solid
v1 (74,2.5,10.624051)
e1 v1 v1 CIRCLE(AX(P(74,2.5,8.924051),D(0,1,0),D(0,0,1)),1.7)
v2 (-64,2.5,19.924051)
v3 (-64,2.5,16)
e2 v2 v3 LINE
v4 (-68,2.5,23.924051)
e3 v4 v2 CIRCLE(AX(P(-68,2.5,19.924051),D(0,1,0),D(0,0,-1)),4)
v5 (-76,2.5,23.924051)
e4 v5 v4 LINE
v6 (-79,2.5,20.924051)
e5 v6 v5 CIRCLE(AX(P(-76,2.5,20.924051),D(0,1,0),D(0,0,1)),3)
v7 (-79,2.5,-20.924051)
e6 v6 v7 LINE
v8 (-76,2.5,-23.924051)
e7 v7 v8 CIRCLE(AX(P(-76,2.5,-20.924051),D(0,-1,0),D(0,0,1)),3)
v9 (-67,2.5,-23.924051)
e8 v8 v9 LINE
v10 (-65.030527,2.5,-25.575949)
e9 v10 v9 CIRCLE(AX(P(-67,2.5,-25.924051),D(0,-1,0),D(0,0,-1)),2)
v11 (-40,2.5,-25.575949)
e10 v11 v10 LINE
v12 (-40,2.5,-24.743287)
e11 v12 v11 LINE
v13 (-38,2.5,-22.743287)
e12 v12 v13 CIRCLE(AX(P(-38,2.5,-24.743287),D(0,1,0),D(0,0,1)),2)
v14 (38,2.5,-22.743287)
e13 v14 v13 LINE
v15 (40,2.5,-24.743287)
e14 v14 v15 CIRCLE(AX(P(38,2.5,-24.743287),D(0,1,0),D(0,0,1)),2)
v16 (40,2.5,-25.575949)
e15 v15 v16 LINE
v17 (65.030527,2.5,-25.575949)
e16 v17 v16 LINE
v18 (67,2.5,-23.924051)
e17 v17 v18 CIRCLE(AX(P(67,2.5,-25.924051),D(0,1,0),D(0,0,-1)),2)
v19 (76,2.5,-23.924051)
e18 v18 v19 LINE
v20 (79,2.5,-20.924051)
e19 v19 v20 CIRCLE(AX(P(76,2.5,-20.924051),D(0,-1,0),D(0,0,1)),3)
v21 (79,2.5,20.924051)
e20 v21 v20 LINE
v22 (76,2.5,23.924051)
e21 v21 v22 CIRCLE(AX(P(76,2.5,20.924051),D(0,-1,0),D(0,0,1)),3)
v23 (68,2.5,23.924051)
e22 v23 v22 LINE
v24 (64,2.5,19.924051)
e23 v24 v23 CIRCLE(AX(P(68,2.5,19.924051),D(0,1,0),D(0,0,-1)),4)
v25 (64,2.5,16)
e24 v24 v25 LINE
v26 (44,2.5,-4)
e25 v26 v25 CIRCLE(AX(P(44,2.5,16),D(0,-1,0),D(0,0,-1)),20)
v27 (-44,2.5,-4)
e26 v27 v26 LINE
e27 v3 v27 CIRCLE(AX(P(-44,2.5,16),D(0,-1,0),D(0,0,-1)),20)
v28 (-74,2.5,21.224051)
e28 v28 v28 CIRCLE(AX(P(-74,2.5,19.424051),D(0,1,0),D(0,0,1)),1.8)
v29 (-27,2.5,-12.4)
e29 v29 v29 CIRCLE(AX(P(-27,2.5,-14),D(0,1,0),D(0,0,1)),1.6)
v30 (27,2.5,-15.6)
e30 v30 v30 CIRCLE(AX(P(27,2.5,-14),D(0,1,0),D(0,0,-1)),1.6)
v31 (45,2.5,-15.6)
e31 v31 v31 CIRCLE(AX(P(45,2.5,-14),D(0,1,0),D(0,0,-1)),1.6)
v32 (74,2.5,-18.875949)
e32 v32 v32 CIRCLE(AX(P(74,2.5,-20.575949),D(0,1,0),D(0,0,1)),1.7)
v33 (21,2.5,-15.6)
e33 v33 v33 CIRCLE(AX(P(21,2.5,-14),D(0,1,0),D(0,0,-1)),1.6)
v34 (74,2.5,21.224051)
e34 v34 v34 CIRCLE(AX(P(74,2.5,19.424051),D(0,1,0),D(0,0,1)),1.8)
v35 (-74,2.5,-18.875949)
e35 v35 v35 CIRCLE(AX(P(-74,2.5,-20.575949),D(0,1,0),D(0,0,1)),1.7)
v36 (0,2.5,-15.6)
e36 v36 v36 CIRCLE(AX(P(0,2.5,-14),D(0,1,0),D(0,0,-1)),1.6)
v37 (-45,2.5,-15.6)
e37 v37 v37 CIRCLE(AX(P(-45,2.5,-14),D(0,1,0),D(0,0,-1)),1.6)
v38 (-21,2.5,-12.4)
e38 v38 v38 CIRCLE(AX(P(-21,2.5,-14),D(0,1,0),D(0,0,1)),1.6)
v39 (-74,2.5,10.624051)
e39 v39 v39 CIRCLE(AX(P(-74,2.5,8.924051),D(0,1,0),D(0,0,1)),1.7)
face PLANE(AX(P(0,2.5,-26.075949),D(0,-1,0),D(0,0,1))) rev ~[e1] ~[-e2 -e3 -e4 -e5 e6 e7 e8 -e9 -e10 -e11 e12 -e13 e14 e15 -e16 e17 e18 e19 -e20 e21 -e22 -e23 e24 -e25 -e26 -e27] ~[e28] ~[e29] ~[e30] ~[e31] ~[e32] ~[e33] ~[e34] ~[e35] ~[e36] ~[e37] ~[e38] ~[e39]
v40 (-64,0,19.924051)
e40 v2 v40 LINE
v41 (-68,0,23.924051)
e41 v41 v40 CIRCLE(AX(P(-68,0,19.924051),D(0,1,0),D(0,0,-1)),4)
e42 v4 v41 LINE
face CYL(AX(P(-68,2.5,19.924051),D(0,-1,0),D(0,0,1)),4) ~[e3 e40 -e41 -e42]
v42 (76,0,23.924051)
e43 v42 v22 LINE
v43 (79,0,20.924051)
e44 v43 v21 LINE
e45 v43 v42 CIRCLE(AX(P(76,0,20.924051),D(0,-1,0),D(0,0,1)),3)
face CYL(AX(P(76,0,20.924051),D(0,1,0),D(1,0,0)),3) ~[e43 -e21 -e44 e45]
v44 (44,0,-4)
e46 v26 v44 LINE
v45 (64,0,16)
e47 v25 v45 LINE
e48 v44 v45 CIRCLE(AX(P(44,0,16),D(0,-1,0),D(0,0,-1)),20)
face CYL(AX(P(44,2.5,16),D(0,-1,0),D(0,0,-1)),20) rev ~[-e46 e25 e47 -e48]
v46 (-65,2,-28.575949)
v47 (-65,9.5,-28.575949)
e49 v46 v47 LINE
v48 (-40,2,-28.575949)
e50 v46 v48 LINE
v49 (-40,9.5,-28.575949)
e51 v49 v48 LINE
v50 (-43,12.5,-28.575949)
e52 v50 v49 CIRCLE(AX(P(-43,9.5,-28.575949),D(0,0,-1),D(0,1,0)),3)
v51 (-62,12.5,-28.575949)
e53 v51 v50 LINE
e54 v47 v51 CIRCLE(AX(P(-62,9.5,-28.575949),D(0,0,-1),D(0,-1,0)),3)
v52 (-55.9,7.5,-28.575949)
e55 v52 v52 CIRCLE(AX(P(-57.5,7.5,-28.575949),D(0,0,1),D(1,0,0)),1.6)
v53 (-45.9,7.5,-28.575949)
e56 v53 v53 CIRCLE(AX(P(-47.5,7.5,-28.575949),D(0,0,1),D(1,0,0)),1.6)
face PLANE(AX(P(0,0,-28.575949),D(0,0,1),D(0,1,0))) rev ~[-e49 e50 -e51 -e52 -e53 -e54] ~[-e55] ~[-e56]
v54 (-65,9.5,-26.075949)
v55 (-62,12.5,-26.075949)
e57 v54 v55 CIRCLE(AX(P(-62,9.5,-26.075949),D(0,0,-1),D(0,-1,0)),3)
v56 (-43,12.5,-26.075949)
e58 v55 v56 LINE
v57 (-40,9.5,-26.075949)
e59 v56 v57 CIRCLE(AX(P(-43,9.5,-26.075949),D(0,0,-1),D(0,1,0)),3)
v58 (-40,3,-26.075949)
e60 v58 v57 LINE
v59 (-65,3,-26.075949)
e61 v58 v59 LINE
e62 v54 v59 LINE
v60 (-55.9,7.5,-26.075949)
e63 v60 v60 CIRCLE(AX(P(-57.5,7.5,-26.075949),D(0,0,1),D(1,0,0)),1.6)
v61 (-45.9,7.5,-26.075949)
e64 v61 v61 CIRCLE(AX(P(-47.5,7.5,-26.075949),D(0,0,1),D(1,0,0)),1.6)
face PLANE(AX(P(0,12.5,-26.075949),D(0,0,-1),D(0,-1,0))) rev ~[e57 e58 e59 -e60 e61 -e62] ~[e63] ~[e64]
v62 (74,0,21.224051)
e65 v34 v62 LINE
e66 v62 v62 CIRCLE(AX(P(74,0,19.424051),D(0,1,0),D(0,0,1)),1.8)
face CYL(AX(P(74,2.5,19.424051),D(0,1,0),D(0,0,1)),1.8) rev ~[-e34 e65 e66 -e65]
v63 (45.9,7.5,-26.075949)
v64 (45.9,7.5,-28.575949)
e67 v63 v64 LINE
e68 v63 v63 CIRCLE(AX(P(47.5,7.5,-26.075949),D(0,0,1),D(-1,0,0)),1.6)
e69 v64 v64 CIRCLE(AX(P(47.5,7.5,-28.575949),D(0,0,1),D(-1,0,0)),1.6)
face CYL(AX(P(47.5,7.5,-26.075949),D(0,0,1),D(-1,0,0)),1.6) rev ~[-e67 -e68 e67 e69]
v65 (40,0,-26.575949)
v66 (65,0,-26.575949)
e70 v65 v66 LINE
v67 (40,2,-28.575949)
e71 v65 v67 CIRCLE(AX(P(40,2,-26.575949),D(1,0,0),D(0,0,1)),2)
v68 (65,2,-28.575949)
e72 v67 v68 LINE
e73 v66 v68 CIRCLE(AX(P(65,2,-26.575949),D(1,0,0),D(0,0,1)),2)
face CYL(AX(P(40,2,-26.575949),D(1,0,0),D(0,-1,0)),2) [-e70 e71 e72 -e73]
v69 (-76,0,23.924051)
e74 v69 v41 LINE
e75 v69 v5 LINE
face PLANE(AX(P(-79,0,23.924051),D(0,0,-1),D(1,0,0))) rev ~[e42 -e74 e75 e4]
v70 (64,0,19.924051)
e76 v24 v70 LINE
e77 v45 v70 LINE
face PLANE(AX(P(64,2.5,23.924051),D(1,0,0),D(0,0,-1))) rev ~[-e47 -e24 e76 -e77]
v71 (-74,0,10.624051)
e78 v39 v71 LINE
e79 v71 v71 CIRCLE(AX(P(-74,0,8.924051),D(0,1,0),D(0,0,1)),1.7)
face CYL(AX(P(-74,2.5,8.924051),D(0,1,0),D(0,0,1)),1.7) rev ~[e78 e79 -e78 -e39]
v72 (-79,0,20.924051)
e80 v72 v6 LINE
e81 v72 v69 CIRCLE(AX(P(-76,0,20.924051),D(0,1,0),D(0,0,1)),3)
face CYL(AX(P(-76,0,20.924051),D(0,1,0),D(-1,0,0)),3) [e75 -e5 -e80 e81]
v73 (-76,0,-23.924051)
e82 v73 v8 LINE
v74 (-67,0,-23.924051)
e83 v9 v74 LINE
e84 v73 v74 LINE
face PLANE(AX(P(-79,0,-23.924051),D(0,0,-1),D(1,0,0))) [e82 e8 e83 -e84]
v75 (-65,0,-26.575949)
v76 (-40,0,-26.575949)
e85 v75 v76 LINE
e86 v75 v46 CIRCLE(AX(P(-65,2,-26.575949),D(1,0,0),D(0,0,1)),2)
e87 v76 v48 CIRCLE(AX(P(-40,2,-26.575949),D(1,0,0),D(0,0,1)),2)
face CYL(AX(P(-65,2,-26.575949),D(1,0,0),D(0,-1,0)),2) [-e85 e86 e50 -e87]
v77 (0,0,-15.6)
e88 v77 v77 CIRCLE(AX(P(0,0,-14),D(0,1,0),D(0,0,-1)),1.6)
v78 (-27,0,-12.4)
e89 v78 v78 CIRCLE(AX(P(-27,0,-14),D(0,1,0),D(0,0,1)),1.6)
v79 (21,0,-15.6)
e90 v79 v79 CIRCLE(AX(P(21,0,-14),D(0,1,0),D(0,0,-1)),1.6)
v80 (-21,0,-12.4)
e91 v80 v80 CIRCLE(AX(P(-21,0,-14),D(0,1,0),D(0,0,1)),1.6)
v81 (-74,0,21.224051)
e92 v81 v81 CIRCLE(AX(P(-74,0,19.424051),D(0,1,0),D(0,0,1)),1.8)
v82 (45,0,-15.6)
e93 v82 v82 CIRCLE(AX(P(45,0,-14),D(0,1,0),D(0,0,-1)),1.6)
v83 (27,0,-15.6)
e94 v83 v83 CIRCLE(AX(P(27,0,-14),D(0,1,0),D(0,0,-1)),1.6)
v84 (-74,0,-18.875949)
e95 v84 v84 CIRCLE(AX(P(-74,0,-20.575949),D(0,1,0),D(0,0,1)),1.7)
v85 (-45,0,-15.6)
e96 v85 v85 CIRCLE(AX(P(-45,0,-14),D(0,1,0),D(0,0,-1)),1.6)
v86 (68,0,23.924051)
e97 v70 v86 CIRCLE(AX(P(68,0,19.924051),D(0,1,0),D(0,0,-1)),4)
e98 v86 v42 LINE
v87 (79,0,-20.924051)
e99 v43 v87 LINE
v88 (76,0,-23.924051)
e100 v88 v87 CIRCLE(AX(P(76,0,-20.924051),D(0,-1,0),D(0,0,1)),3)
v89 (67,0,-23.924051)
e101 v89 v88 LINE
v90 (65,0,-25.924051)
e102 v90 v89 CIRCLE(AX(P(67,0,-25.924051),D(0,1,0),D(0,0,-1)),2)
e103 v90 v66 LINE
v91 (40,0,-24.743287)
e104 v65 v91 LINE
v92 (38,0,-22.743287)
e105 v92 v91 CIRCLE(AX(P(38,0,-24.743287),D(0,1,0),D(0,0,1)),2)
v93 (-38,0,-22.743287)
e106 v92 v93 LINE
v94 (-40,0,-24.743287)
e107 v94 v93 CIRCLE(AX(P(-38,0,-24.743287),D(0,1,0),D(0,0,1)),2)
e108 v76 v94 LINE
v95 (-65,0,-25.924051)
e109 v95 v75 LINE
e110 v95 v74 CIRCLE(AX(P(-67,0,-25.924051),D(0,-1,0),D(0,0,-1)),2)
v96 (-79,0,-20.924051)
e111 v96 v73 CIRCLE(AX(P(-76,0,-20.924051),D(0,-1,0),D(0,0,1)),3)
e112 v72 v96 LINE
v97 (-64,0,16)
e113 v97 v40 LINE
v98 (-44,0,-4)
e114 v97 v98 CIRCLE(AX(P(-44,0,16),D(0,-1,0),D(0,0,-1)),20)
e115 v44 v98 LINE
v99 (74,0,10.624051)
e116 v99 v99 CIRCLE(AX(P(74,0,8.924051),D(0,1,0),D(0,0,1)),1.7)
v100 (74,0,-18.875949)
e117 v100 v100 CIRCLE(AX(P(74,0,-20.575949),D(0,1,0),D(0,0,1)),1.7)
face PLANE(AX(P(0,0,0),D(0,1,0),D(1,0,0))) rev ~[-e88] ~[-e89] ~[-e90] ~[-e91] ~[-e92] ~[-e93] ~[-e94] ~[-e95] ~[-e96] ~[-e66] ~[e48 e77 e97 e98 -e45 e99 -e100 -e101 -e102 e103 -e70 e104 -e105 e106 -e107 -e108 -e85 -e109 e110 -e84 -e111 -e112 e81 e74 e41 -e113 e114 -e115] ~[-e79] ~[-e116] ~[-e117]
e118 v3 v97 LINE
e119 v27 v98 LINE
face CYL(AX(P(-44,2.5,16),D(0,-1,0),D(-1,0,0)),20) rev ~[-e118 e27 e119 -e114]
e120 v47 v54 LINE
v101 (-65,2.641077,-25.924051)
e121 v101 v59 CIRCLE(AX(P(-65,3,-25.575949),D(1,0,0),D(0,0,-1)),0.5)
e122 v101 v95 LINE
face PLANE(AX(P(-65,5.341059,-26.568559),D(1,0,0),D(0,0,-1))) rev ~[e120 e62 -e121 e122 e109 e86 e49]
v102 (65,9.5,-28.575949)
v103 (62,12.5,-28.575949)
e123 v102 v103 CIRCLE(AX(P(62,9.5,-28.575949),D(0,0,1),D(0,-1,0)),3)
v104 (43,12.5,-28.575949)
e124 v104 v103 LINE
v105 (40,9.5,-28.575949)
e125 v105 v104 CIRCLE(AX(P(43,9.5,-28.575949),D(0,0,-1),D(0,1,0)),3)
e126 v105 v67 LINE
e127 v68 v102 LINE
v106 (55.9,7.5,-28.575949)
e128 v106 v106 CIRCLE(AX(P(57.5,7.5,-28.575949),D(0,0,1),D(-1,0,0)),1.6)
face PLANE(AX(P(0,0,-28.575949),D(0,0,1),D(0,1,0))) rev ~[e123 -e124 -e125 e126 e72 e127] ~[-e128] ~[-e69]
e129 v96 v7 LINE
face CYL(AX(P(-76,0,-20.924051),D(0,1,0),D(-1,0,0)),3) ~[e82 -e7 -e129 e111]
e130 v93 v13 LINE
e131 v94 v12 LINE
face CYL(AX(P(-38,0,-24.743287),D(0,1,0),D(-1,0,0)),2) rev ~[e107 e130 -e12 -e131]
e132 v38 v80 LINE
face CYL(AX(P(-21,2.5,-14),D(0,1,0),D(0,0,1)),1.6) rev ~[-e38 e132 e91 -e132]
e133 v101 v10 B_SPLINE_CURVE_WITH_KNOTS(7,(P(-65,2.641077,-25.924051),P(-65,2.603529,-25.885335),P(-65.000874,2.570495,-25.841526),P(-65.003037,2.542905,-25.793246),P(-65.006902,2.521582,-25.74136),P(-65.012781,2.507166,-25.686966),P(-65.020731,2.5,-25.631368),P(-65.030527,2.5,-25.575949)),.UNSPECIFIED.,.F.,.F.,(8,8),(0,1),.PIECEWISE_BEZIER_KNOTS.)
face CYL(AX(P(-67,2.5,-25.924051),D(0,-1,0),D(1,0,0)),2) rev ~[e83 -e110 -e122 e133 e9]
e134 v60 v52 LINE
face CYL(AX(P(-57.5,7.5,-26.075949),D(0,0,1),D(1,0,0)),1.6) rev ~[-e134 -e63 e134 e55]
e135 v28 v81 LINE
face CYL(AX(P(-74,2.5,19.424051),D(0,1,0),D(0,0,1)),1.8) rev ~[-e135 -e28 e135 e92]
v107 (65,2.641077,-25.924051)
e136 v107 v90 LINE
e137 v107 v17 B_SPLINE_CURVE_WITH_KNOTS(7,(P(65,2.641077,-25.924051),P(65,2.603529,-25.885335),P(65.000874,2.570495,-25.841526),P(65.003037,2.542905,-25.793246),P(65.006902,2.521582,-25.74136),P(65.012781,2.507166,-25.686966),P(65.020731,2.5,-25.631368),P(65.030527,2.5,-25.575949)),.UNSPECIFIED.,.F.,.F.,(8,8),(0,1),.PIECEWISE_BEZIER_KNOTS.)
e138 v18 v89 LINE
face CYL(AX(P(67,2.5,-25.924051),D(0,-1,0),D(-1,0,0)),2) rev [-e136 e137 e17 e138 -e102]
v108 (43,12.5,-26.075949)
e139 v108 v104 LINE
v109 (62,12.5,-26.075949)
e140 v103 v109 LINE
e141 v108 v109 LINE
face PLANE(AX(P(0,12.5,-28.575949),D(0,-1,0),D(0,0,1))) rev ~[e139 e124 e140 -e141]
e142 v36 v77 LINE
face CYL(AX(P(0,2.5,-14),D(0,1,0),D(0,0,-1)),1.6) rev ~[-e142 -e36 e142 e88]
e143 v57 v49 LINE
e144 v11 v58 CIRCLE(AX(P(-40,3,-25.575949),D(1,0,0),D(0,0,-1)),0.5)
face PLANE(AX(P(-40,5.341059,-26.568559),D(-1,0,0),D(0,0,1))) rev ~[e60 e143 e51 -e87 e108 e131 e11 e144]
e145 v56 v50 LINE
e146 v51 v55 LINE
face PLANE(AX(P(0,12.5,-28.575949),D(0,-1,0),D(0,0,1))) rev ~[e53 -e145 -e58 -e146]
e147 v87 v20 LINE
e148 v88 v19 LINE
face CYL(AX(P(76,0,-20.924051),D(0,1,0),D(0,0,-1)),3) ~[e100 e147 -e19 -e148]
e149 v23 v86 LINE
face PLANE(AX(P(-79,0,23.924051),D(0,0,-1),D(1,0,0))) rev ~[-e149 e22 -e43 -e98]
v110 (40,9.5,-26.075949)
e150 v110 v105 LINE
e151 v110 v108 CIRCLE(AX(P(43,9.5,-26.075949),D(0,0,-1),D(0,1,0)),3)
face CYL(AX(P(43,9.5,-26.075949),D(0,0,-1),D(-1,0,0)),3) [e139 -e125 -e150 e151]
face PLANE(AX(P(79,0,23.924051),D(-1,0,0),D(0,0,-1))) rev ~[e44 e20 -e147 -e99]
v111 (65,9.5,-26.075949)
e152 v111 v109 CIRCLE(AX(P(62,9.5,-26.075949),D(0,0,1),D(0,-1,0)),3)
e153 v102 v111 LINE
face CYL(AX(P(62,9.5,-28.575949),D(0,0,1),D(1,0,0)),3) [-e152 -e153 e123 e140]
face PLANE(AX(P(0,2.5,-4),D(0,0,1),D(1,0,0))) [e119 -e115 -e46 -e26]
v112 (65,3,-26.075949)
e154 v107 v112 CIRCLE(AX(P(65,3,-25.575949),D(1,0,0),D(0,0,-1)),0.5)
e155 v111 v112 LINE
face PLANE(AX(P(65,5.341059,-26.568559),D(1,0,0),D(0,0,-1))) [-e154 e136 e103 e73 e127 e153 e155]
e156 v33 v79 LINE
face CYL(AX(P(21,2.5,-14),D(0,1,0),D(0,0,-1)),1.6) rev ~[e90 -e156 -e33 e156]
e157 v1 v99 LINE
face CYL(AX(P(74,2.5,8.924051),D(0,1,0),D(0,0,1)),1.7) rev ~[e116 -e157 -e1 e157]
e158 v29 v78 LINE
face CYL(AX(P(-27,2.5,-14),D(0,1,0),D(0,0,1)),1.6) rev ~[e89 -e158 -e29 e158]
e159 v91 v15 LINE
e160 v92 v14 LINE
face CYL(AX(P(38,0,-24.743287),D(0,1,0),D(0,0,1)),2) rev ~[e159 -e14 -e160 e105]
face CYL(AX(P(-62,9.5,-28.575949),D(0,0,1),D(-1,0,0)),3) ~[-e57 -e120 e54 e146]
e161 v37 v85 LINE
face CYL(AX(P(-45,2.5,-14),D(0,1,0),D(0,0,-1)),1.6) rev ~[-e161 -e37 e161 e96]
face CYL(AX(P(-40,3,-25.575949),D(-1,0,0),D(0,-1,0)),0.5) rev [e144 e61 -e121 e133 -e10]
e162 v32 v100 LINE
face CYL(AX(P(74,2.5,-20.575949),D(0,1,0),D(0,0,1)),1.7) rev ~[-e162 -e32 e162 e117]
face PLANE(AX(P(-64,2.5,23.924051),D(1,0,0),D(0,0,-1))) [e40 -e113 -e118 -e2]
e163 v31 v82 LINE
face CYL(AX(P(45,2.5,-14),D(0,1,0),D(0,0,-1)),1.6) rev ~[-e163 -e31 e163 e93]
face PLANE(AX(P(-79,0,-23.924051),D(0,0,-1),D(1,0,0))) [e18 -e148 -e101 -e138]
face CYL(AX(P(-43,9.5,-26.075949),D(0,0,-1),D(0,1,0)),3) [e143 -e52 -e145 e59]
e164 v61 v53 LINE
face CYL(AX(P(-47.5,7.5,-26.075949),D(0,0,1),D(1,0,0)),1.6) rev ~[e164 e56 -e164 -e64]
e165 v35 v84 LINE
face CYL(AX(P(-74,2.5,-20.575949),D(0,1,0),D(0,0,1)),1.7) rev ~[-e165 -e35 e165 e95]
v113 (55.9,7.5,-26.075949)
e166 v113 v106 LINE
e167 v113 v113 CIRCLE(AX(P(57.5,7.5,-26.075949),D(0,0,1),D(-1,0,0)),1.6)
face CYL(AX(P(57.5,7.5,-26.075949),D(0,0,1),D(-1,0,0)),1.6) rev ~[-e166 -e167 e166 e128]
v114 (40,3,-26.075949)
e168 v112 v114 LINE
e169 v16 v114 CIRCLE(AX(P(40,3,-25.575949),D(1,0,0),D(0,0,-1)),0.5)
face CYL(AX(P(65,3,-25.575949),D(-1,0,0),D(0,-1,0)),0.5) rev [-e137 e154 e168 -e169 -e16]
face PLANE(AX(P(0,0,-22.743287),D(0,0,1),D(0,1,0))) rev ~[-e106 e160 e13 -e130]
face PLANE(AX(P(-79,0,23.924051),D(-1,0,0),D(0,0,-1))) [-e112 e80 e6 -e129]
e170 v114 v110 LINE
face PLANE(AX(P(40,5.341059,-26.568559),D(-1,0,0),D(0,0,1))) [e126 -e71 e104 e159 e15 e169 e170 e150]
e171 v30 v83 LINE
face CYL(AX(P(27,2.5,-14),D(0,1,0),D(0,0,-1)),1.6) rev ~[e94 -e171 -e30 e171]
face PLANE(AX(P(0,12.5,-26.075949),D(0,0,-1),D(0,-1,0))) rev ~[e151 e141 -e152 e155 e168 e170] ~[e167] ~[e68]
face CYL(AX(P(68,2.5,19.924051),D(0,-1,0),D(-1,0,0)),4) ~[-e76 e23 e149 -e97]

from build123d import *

# Parameters (mm, degrees)
SKETCH_1_W                      = 158
SKETCH_1_H                      = 47.848101266
EXTRUDE_1_DEPTH                 = 2.5
CUT_EXTRUDE_1_REACH             = 84.581
SKETCH_2_W                      = 64
SKETCH_2_H                      = 27.924050633
CUT_EXTRUDE_2_REACH             = 84.581
SKETCH_4_R                      = 1.7
SKETCH_4_R_2                    = 1.8
CUT_EXTRUDE_3_REACH             = 84.581
SKETCH_5_R                      = 1.6
CUT_EXTRUDE_3_DIRECTION_2_DEPTH = 83.580931205
FILLET_4_R                      = 3
FILLET_5_R                      = 4
FILLET_6_R                      = 20
EXTRUDE_START                   = -79
EXTRUDE_2_DEPTH                 = 65
CUT_EXTRUDE_START               = -79
CUT_EXTRUDE_4_DEPTH             = 40
FILLET_7_R                      = 0.5
FILLET_8_R                      = 2
FILLET_9_R                      = 3
FILLET_10_R                     = 2
SKETCH_10_R                     = 1.6
CUT_EXTRUDE_5_DEPTH             = 95.325235224
SKETCH_11_R                     = 1.6
CUT_EXTRUDE_6_DEPTH             = 85.602511087


with BuildPart() as part:
    # 草图1 → 凸台-拉伸1 (new body)
    with BuildSketch(Plane(origin=(0, 0, 0), x_dir=(1, 0, 0), z_dir=(0, 1, 0))):
        Rectangle(SKETCH_1_W, SKETCH_1_H)
    extrude(amount=EXTRUDE_1_DEPTH)

    # 草图2 → 切除-拉伸1 (cut, up to next)
    with BuildSketch(Plane(origin=(0, 2.5, 0), x_dir=(1, 0, 0), z_dir=(0, 1, 0)), mode=Mode.PRIVATE) as cut_extrude_1_sk1:
        with Locations((-32, -9.962025317)):
            Rectangle(SKETCH_2_W, SKETCH_2_H)
    cut_extrude_1_tool1 = extrude(cut_extrude_1_sk1.sketch, amount=-CUT_EXTRUDE_1_REACH, mode=Mode.PRIVATE) & part.part
    # 草图2 → 切除-拉伸1 (cut, up to next)
    with BuildSketch(Plane(origin=(0, 2.5, 0), x_dir=(1, 0, 0), z_dir=(0, 1, 0)), mode=Mode.PRIVATE) as cut_extrude_1_sk2:
        with Locations((32, -9.962025317)):
            Rectangle(SKETCH_2_W, SKETCH_2_H)
    cut_extrude_1_tool2 = extrude(cut_extrude_1_sk2.sketch, amount=-CUT_EXTRUDE_1_REACH, mode=Mode.PRIVATE) & part.part
    add(cut_extrude_1_tool1.solids().sort_by_distance((-32, 2.5, 9.962025))[0], mode=Mode.SUBTRACT)
    add(cut_extrude_1_tool2.solids().sort_by_distance((32, 2.5, 9.962025))[0], mode=Mode.SUBTRACT)

    # 草图4 → 切除-拉伸2 (cut, up to next)
    with BuildSketch(Plane(origin=(0, 2.5, 0), x_dir=(1, 0, 0), z_dir=(0, 1, 0)), mode=Mode.PRIVATE) as cut_extrude_2_sk1:
        with Locations(Location((-74, -8.924050633, 0), (0, 0, 270))):
            Circle(SKETCH_4_R)
    cut_extrude_2_tool1 = extrude(cut_extrude_2_sk1.sketch, amount=-CUT_EXTRUDE_2_REACH, mode=Mode.PRIVATE) & part.part
    # 草图4 → 切除-拉伸2 (cut, up to next)
    with BuildSketch(Plane(origin=(0, 2.5, 0), x_dir=(1, 0, 0), z_dir=(0, 1, 0)), mode=Mode.PRIVATE) as cut_extrude_2_sk2:
        with Locations(Location((-74, 20.575949367, 0), (0, 0, 270))):
            Circle(SKETCH_4_R)
    cut_extrude_2_tool2 = extrude(cut_extrude_2_sk2.sketch, amount=-CUT_EXTRUDE_2_REACH, mode=Mode.PRIVATE) & part.part
    # 草图4 → 切除-拉伸2 (cut, up to next)
    with BuildSketch(Plane(origin=(0, 2.5, 0), x_dir=(1, 0, 0), z_dir=(0, 1, 0)), mode=Mode.PRIVATE) as cut_extrude_2_sk3:
        with Locations(Location((-74, -19.424050633, 0), (0, 0, 270))):
            Circle(SKETCH_4_R_2)
    cut_extrude_2_tool3 = extrude(cut_extrude_2_sk3.sketch, amount=-CUT_EXTRUDE_2_REACH, mode=Mode.PRIVATE) & part.part
    # 草图4 → 切除-拉伸2 (cut, up to next)
    with BuildSketch(Plane(origin=(0, 2.5, 0), x_dir=(1, 0, 0), z_dir=(0, 1, 0)), mode=Mode.PRIVATE) as cut_extrude_2_sk4:
        with Locations(Location((74, 20.575949367, 0), (0, 0, 270))):
            Circle(SKETCH_4_R)
    cut_extrude_2_tool4 = extrude(cut_extrude_2_sk4.sketch, amount=-CUT_EXTRUDE_2_REACH, mode=Mode.PRIVATE) & part.part
    # 草图4 → 切除-拉伸2 (cut, up to next)
    with BuildSketch(Plane(origin=(0, 2.5, 0), x_dir=(1, 0, 0), z_dir=(0, 1, 0)), mode=Mode.PRIVATE) as cut_extrude_2_sk5:
        with Locations(Location((74, -19.424050633, 0), (0, 0, 270))):
            Circle(SKETCH_4_R_2)
    cut_extrude_2_tool5 = extrude(cut_extrude_2_sk5.sketch, amount=-CUT_EXTRUDE_2_REACH, mode=Mode.PRIVATE) & part.part
    # 草图4 → 切除-拉伸2 (cut, up to next)
    with BuildSketch(Plane(origin=(0, 2.5, 0), x_dir=(1, 0, 0), z_dir=(0, 1, 0)), mode=Mode.PRIVATE) as cut_extrude_2_sk6:
        with Locations(Location((74, -8.924050633, 0), (0, 0, 270))):
            Circle(SKETCH_4_R)
    cut_extrude_2_tool6 = extrude(cut_extrude_2_sk6.sketch, amount=-CUT_EXTRUDE_2_REACH, mode=Mode.PRIVATE) & part.part
    add(cut_extrude_2_tool1.solids().sort_by_distance((-74, 2.5, 8.924051))[0], mode=Mode.SUBTRACT)
    add(cut_extrude_2_tool2.solids().sort_by_distance((-74, 2.5, -20.575949))[0], mode=Mode.SUBTRACT)
    add(cut_extrude_2_tool3.solids().sort_by_distance((-74, 2.5, 19.424051))[0], mode=Mode.SUBTRACT)
    add(cut_extrude_2_tool4.solids().sort_by_distance((74, 2.5, -20.575949))[0], mode=Mode.SUBTRACT)
    add(cut_extrude_2_tool5.solids().sort_by_distance((74, 2.5, 19.424051))[0], mode=Mode.SUBTRACT)
    add(cut_extrude_2_tool6.solids().sort_by_distance((74, 2.5, 8.924051))[0], mode=Mode.SUBTRACT)

    # 草图5 → 切除-拉伸3 (cut, up to next)
    with BuildSketch(Plane(origin=(0, 2.5, 0), x_dir=(1, 0, 0), z_dir=(0, 1, 0)), mode=Mode.PRIVATE) as cut_extrude_3_sk1:
        with Locations(Location((0, 14, 0), (0, 0, 90))):
            Circle(SKETCH_5_R)
    cut_extrude_3_tool1 = extrude(cut_extrude_3_sk1.sketch, amount=-CUT_EXTRUDE_3_REACH, mode=Mode.PRIVATE) & part.part
    # 草图5 → 切除-拉伸3 (cut, up to next)
    with BuildSketch(Plane(origin=(0, 2.5, 0), x_dir=(1, 0, 0), z_dir=(0, 1, 0)), mode=Mode.PRIVATE) as cut_extrude_3_sk2:
        with Locations(Location((-45, 14, 0), (0, 0, 90))):
            Circle(SKETCH_5_R)
    cut_extrude_3_tool2 = extrude(cut_extrude_3_sk2.sketch, amount=-CUT_EXTRUDE_3_REACH, mode=Mode.PRIVATE) & part.part
    # 草图5 → 切除-拉伸3 (cut, up to next)
    with BuildSketch(Plane(origin=(0, 2.5, 0), x_dir=(1, 0, 0), z_dir=(0, 1, 0)), mode=Mode.PRIVATE) as cut_extrude_3_sk3:
        with Locations(Location((45, 14, 0), (0, 0, 90))):
            Circle(SKETCH_5_R)
    cut_extrude_3_tool3 = extrude(cut_extrude_3_sk3.sketch, amount=-CUT_EXTRUDE_3_REACH, mode=Mode.PRIVATE) & part.part
    add(cut_extrude_3_tool1.solids().sort_by_distance((0, 2.5, -14))[0], mode=Mode.SUBTRACT)
    add(cut_extrude_3_tool2.solids().sort_by_distance((-45, 2.5, -14))[0], mode=Mode.SUBTRACT)
    add(cut_extrude_3_tool3.solids().sort_by_distance((45, 2.5, -14))[0], mode=Mode.SUBTRACT)

    # 草图5 → 切除-拉伸3 direction 2 (cut)
    with BuildSketch(Plane(origin=(0, 2.5, 0), x_dir=(1, 0, 0), z_dir=(0, 1, 0))):
        with Locations(Location((0, 14, 0), (0, 0, 90))):
            Circle(SKETCH_5_R)
        with Locations(Location((-45, 14, 0), (0, 0, 90))):
            Circle(SKETCH_5_R)
        with Locations(Location((45, 14, 0), (0, 0, 90))):
            Circle(SKETCH_5_R)
    extrude(amount=CUT_EXTRUDE_3_DIRECTION_2_DEPTH, mode=Mode.SUBTRACT)

    # 圆角4
    fillet_4_edges = [part.edges().sort_by_distance(p)[0] for p in [
        (79, 1.25, 23.924050633),
        (-79, 1.25, 23.924050633),
        (-79, 1.25, -23.924050633),
        (79, 1.25, -23.924050633),
    ]]
    fillet(fillet_4_edges, radius=FILLET_4_R)

    # 圆角5
    fillet_5_edges = [part.edges().sort_by_distance(p)[0] for p in [
        (64, 1.25, 23.924050633),
        (-64, 1.25, 23.924050633),
    ]]
    fillet(fillet_5_edges, radius=FILLET_5_R)

    # 圆角6
    fillet_6_edges = [part.edges().sort_by_distance(p)[0] for p in [
        (-64, 1.25, -4),
        (64, 1.25, -4),
    ]]
    fillet(fillet_6_edges, radius=FILLET_6_R)

    # 草图8 → 凸台-拉伸2 (add, symmetric)
    with BuildSketch(Plane.ZY.offset(79).offset(EXTRUDE_START)):
        Polygon((-22.743286719, 0), (-28.575949367, 0), (-28.575949367, 12.5), (-26.075949367, 12.5), (-26.075949367, 2.5), (-22.743286719, 2.5), align=None)
    extrude(amount=EXTRUDE_2_DEPTH, both=True)

    # 草图9 → 切除-拉伸4 (cut, symmetric)
    with BuildSketch(Plane.ZY.offset(79).offset(CUT_EXTRUDE_START)):
        Polygon((-28.575949367, 0), (-22.743286719, 0), (-22.743286719, 2.5), (-26.075949367, 2.5), (-26.075949367, 12.5), (-28.575949367, 12.5), align=None)
    extrude(amount=CUT_EXTRUDE_4_DEPTH, both=True, mode=Mode.SUBTRACT)

    # 圆角7
    fillet_7_edges = [part.edges().sort_by_distance(p)[0] for p in [
        (52.5, 2.5, -26.075949367),
        (-52.5, 2.5, -26.075949367),
    ]]
    fillet(fillet_7_edges, radius=FILLET_7_R)

    # 圆角8
    fillet_8_edges = [part.edges().sort_by_distance(p)[0] for p in [
        (52.5, 0, -28.575949367),
        (-52.5, 0, -28.575949367),
    ]]
    fillet(fillet_8_edges, radius=FILLET_8_R)

    # 圆角9
    fillet_9_edges = [part.edges().sort_by_distance(p)[0] for p in [
        (-65, 12.5, -27.325949367),
        (65, 12.5, -27.325949367),
        (40, 12.5, -27.325949367),
        (-40, 12.5, -27.325949367),
    ]]
    fillet(fillet_9_edges, radius=FILLET_9_R)

    # 圆角10
    fillet_10_edges = [part.edges().sort_by_distance(p)[0] for p in [
        (-65, 1.25, -23.924050633),
        (-40, 1.25, -22.743286719),
        (65, 1.25, -23.924050633),
        (40, 1.25, -22.743286719),
    ]]
    fillet(fillet_10_edges, radius=FILLET_10_R)

    # 草图10 → 切除-拉伸5 (cut, through all)
    with BuildSketch(Plane.XY.offset(-26.075949367)):
        with Locations((-57.5, 7.5)):
            Circle(SKETCH_10_R)
        with Locations((-47.5, 7.5)):
            Circle(SKETCH_10_R)
        with Locations(Location((47.5, 7.5, 0), (0, 0, 180))):
            Circle(SKETCH_10_R)
        with Locations(Location((57.5, 7.5, 0), (0, 0, 180))):
            Circle(SKETCH_10_R)
    extrude(amount=-CUT_EXTRUDE_5_DEPTH, mode=Mode.SUBTRACT)

    # 草图11 → 切除-拉伸6 (cut, through all)
    with BuildSketch(Plane(origin=(0, 2.5, 0), x_dir=(1, 0, 0), z_dir=(0, 1, 0))):
        with Locations(Location((-27, 14, 0), (0, 0, 270))):
            Circle(SKETCH_11_R)
        with Locations(Location((-21, 14, 0), (0, 0, 270))):
            Circle(SKETCH_11_R)
        with Locations(Location((21, 14, 0), (0, 0, 90))):
            Circle(SKETCH_11_R)
        with Locations(Location((27, 14, 0), (0, 0, 90))):
            Circle(SKETCH_11_R)
    extrude(amount=-CUT_EXTRUDE_6_DEPTH, mode=Mode.SUBTRACT)


solid = part.part
